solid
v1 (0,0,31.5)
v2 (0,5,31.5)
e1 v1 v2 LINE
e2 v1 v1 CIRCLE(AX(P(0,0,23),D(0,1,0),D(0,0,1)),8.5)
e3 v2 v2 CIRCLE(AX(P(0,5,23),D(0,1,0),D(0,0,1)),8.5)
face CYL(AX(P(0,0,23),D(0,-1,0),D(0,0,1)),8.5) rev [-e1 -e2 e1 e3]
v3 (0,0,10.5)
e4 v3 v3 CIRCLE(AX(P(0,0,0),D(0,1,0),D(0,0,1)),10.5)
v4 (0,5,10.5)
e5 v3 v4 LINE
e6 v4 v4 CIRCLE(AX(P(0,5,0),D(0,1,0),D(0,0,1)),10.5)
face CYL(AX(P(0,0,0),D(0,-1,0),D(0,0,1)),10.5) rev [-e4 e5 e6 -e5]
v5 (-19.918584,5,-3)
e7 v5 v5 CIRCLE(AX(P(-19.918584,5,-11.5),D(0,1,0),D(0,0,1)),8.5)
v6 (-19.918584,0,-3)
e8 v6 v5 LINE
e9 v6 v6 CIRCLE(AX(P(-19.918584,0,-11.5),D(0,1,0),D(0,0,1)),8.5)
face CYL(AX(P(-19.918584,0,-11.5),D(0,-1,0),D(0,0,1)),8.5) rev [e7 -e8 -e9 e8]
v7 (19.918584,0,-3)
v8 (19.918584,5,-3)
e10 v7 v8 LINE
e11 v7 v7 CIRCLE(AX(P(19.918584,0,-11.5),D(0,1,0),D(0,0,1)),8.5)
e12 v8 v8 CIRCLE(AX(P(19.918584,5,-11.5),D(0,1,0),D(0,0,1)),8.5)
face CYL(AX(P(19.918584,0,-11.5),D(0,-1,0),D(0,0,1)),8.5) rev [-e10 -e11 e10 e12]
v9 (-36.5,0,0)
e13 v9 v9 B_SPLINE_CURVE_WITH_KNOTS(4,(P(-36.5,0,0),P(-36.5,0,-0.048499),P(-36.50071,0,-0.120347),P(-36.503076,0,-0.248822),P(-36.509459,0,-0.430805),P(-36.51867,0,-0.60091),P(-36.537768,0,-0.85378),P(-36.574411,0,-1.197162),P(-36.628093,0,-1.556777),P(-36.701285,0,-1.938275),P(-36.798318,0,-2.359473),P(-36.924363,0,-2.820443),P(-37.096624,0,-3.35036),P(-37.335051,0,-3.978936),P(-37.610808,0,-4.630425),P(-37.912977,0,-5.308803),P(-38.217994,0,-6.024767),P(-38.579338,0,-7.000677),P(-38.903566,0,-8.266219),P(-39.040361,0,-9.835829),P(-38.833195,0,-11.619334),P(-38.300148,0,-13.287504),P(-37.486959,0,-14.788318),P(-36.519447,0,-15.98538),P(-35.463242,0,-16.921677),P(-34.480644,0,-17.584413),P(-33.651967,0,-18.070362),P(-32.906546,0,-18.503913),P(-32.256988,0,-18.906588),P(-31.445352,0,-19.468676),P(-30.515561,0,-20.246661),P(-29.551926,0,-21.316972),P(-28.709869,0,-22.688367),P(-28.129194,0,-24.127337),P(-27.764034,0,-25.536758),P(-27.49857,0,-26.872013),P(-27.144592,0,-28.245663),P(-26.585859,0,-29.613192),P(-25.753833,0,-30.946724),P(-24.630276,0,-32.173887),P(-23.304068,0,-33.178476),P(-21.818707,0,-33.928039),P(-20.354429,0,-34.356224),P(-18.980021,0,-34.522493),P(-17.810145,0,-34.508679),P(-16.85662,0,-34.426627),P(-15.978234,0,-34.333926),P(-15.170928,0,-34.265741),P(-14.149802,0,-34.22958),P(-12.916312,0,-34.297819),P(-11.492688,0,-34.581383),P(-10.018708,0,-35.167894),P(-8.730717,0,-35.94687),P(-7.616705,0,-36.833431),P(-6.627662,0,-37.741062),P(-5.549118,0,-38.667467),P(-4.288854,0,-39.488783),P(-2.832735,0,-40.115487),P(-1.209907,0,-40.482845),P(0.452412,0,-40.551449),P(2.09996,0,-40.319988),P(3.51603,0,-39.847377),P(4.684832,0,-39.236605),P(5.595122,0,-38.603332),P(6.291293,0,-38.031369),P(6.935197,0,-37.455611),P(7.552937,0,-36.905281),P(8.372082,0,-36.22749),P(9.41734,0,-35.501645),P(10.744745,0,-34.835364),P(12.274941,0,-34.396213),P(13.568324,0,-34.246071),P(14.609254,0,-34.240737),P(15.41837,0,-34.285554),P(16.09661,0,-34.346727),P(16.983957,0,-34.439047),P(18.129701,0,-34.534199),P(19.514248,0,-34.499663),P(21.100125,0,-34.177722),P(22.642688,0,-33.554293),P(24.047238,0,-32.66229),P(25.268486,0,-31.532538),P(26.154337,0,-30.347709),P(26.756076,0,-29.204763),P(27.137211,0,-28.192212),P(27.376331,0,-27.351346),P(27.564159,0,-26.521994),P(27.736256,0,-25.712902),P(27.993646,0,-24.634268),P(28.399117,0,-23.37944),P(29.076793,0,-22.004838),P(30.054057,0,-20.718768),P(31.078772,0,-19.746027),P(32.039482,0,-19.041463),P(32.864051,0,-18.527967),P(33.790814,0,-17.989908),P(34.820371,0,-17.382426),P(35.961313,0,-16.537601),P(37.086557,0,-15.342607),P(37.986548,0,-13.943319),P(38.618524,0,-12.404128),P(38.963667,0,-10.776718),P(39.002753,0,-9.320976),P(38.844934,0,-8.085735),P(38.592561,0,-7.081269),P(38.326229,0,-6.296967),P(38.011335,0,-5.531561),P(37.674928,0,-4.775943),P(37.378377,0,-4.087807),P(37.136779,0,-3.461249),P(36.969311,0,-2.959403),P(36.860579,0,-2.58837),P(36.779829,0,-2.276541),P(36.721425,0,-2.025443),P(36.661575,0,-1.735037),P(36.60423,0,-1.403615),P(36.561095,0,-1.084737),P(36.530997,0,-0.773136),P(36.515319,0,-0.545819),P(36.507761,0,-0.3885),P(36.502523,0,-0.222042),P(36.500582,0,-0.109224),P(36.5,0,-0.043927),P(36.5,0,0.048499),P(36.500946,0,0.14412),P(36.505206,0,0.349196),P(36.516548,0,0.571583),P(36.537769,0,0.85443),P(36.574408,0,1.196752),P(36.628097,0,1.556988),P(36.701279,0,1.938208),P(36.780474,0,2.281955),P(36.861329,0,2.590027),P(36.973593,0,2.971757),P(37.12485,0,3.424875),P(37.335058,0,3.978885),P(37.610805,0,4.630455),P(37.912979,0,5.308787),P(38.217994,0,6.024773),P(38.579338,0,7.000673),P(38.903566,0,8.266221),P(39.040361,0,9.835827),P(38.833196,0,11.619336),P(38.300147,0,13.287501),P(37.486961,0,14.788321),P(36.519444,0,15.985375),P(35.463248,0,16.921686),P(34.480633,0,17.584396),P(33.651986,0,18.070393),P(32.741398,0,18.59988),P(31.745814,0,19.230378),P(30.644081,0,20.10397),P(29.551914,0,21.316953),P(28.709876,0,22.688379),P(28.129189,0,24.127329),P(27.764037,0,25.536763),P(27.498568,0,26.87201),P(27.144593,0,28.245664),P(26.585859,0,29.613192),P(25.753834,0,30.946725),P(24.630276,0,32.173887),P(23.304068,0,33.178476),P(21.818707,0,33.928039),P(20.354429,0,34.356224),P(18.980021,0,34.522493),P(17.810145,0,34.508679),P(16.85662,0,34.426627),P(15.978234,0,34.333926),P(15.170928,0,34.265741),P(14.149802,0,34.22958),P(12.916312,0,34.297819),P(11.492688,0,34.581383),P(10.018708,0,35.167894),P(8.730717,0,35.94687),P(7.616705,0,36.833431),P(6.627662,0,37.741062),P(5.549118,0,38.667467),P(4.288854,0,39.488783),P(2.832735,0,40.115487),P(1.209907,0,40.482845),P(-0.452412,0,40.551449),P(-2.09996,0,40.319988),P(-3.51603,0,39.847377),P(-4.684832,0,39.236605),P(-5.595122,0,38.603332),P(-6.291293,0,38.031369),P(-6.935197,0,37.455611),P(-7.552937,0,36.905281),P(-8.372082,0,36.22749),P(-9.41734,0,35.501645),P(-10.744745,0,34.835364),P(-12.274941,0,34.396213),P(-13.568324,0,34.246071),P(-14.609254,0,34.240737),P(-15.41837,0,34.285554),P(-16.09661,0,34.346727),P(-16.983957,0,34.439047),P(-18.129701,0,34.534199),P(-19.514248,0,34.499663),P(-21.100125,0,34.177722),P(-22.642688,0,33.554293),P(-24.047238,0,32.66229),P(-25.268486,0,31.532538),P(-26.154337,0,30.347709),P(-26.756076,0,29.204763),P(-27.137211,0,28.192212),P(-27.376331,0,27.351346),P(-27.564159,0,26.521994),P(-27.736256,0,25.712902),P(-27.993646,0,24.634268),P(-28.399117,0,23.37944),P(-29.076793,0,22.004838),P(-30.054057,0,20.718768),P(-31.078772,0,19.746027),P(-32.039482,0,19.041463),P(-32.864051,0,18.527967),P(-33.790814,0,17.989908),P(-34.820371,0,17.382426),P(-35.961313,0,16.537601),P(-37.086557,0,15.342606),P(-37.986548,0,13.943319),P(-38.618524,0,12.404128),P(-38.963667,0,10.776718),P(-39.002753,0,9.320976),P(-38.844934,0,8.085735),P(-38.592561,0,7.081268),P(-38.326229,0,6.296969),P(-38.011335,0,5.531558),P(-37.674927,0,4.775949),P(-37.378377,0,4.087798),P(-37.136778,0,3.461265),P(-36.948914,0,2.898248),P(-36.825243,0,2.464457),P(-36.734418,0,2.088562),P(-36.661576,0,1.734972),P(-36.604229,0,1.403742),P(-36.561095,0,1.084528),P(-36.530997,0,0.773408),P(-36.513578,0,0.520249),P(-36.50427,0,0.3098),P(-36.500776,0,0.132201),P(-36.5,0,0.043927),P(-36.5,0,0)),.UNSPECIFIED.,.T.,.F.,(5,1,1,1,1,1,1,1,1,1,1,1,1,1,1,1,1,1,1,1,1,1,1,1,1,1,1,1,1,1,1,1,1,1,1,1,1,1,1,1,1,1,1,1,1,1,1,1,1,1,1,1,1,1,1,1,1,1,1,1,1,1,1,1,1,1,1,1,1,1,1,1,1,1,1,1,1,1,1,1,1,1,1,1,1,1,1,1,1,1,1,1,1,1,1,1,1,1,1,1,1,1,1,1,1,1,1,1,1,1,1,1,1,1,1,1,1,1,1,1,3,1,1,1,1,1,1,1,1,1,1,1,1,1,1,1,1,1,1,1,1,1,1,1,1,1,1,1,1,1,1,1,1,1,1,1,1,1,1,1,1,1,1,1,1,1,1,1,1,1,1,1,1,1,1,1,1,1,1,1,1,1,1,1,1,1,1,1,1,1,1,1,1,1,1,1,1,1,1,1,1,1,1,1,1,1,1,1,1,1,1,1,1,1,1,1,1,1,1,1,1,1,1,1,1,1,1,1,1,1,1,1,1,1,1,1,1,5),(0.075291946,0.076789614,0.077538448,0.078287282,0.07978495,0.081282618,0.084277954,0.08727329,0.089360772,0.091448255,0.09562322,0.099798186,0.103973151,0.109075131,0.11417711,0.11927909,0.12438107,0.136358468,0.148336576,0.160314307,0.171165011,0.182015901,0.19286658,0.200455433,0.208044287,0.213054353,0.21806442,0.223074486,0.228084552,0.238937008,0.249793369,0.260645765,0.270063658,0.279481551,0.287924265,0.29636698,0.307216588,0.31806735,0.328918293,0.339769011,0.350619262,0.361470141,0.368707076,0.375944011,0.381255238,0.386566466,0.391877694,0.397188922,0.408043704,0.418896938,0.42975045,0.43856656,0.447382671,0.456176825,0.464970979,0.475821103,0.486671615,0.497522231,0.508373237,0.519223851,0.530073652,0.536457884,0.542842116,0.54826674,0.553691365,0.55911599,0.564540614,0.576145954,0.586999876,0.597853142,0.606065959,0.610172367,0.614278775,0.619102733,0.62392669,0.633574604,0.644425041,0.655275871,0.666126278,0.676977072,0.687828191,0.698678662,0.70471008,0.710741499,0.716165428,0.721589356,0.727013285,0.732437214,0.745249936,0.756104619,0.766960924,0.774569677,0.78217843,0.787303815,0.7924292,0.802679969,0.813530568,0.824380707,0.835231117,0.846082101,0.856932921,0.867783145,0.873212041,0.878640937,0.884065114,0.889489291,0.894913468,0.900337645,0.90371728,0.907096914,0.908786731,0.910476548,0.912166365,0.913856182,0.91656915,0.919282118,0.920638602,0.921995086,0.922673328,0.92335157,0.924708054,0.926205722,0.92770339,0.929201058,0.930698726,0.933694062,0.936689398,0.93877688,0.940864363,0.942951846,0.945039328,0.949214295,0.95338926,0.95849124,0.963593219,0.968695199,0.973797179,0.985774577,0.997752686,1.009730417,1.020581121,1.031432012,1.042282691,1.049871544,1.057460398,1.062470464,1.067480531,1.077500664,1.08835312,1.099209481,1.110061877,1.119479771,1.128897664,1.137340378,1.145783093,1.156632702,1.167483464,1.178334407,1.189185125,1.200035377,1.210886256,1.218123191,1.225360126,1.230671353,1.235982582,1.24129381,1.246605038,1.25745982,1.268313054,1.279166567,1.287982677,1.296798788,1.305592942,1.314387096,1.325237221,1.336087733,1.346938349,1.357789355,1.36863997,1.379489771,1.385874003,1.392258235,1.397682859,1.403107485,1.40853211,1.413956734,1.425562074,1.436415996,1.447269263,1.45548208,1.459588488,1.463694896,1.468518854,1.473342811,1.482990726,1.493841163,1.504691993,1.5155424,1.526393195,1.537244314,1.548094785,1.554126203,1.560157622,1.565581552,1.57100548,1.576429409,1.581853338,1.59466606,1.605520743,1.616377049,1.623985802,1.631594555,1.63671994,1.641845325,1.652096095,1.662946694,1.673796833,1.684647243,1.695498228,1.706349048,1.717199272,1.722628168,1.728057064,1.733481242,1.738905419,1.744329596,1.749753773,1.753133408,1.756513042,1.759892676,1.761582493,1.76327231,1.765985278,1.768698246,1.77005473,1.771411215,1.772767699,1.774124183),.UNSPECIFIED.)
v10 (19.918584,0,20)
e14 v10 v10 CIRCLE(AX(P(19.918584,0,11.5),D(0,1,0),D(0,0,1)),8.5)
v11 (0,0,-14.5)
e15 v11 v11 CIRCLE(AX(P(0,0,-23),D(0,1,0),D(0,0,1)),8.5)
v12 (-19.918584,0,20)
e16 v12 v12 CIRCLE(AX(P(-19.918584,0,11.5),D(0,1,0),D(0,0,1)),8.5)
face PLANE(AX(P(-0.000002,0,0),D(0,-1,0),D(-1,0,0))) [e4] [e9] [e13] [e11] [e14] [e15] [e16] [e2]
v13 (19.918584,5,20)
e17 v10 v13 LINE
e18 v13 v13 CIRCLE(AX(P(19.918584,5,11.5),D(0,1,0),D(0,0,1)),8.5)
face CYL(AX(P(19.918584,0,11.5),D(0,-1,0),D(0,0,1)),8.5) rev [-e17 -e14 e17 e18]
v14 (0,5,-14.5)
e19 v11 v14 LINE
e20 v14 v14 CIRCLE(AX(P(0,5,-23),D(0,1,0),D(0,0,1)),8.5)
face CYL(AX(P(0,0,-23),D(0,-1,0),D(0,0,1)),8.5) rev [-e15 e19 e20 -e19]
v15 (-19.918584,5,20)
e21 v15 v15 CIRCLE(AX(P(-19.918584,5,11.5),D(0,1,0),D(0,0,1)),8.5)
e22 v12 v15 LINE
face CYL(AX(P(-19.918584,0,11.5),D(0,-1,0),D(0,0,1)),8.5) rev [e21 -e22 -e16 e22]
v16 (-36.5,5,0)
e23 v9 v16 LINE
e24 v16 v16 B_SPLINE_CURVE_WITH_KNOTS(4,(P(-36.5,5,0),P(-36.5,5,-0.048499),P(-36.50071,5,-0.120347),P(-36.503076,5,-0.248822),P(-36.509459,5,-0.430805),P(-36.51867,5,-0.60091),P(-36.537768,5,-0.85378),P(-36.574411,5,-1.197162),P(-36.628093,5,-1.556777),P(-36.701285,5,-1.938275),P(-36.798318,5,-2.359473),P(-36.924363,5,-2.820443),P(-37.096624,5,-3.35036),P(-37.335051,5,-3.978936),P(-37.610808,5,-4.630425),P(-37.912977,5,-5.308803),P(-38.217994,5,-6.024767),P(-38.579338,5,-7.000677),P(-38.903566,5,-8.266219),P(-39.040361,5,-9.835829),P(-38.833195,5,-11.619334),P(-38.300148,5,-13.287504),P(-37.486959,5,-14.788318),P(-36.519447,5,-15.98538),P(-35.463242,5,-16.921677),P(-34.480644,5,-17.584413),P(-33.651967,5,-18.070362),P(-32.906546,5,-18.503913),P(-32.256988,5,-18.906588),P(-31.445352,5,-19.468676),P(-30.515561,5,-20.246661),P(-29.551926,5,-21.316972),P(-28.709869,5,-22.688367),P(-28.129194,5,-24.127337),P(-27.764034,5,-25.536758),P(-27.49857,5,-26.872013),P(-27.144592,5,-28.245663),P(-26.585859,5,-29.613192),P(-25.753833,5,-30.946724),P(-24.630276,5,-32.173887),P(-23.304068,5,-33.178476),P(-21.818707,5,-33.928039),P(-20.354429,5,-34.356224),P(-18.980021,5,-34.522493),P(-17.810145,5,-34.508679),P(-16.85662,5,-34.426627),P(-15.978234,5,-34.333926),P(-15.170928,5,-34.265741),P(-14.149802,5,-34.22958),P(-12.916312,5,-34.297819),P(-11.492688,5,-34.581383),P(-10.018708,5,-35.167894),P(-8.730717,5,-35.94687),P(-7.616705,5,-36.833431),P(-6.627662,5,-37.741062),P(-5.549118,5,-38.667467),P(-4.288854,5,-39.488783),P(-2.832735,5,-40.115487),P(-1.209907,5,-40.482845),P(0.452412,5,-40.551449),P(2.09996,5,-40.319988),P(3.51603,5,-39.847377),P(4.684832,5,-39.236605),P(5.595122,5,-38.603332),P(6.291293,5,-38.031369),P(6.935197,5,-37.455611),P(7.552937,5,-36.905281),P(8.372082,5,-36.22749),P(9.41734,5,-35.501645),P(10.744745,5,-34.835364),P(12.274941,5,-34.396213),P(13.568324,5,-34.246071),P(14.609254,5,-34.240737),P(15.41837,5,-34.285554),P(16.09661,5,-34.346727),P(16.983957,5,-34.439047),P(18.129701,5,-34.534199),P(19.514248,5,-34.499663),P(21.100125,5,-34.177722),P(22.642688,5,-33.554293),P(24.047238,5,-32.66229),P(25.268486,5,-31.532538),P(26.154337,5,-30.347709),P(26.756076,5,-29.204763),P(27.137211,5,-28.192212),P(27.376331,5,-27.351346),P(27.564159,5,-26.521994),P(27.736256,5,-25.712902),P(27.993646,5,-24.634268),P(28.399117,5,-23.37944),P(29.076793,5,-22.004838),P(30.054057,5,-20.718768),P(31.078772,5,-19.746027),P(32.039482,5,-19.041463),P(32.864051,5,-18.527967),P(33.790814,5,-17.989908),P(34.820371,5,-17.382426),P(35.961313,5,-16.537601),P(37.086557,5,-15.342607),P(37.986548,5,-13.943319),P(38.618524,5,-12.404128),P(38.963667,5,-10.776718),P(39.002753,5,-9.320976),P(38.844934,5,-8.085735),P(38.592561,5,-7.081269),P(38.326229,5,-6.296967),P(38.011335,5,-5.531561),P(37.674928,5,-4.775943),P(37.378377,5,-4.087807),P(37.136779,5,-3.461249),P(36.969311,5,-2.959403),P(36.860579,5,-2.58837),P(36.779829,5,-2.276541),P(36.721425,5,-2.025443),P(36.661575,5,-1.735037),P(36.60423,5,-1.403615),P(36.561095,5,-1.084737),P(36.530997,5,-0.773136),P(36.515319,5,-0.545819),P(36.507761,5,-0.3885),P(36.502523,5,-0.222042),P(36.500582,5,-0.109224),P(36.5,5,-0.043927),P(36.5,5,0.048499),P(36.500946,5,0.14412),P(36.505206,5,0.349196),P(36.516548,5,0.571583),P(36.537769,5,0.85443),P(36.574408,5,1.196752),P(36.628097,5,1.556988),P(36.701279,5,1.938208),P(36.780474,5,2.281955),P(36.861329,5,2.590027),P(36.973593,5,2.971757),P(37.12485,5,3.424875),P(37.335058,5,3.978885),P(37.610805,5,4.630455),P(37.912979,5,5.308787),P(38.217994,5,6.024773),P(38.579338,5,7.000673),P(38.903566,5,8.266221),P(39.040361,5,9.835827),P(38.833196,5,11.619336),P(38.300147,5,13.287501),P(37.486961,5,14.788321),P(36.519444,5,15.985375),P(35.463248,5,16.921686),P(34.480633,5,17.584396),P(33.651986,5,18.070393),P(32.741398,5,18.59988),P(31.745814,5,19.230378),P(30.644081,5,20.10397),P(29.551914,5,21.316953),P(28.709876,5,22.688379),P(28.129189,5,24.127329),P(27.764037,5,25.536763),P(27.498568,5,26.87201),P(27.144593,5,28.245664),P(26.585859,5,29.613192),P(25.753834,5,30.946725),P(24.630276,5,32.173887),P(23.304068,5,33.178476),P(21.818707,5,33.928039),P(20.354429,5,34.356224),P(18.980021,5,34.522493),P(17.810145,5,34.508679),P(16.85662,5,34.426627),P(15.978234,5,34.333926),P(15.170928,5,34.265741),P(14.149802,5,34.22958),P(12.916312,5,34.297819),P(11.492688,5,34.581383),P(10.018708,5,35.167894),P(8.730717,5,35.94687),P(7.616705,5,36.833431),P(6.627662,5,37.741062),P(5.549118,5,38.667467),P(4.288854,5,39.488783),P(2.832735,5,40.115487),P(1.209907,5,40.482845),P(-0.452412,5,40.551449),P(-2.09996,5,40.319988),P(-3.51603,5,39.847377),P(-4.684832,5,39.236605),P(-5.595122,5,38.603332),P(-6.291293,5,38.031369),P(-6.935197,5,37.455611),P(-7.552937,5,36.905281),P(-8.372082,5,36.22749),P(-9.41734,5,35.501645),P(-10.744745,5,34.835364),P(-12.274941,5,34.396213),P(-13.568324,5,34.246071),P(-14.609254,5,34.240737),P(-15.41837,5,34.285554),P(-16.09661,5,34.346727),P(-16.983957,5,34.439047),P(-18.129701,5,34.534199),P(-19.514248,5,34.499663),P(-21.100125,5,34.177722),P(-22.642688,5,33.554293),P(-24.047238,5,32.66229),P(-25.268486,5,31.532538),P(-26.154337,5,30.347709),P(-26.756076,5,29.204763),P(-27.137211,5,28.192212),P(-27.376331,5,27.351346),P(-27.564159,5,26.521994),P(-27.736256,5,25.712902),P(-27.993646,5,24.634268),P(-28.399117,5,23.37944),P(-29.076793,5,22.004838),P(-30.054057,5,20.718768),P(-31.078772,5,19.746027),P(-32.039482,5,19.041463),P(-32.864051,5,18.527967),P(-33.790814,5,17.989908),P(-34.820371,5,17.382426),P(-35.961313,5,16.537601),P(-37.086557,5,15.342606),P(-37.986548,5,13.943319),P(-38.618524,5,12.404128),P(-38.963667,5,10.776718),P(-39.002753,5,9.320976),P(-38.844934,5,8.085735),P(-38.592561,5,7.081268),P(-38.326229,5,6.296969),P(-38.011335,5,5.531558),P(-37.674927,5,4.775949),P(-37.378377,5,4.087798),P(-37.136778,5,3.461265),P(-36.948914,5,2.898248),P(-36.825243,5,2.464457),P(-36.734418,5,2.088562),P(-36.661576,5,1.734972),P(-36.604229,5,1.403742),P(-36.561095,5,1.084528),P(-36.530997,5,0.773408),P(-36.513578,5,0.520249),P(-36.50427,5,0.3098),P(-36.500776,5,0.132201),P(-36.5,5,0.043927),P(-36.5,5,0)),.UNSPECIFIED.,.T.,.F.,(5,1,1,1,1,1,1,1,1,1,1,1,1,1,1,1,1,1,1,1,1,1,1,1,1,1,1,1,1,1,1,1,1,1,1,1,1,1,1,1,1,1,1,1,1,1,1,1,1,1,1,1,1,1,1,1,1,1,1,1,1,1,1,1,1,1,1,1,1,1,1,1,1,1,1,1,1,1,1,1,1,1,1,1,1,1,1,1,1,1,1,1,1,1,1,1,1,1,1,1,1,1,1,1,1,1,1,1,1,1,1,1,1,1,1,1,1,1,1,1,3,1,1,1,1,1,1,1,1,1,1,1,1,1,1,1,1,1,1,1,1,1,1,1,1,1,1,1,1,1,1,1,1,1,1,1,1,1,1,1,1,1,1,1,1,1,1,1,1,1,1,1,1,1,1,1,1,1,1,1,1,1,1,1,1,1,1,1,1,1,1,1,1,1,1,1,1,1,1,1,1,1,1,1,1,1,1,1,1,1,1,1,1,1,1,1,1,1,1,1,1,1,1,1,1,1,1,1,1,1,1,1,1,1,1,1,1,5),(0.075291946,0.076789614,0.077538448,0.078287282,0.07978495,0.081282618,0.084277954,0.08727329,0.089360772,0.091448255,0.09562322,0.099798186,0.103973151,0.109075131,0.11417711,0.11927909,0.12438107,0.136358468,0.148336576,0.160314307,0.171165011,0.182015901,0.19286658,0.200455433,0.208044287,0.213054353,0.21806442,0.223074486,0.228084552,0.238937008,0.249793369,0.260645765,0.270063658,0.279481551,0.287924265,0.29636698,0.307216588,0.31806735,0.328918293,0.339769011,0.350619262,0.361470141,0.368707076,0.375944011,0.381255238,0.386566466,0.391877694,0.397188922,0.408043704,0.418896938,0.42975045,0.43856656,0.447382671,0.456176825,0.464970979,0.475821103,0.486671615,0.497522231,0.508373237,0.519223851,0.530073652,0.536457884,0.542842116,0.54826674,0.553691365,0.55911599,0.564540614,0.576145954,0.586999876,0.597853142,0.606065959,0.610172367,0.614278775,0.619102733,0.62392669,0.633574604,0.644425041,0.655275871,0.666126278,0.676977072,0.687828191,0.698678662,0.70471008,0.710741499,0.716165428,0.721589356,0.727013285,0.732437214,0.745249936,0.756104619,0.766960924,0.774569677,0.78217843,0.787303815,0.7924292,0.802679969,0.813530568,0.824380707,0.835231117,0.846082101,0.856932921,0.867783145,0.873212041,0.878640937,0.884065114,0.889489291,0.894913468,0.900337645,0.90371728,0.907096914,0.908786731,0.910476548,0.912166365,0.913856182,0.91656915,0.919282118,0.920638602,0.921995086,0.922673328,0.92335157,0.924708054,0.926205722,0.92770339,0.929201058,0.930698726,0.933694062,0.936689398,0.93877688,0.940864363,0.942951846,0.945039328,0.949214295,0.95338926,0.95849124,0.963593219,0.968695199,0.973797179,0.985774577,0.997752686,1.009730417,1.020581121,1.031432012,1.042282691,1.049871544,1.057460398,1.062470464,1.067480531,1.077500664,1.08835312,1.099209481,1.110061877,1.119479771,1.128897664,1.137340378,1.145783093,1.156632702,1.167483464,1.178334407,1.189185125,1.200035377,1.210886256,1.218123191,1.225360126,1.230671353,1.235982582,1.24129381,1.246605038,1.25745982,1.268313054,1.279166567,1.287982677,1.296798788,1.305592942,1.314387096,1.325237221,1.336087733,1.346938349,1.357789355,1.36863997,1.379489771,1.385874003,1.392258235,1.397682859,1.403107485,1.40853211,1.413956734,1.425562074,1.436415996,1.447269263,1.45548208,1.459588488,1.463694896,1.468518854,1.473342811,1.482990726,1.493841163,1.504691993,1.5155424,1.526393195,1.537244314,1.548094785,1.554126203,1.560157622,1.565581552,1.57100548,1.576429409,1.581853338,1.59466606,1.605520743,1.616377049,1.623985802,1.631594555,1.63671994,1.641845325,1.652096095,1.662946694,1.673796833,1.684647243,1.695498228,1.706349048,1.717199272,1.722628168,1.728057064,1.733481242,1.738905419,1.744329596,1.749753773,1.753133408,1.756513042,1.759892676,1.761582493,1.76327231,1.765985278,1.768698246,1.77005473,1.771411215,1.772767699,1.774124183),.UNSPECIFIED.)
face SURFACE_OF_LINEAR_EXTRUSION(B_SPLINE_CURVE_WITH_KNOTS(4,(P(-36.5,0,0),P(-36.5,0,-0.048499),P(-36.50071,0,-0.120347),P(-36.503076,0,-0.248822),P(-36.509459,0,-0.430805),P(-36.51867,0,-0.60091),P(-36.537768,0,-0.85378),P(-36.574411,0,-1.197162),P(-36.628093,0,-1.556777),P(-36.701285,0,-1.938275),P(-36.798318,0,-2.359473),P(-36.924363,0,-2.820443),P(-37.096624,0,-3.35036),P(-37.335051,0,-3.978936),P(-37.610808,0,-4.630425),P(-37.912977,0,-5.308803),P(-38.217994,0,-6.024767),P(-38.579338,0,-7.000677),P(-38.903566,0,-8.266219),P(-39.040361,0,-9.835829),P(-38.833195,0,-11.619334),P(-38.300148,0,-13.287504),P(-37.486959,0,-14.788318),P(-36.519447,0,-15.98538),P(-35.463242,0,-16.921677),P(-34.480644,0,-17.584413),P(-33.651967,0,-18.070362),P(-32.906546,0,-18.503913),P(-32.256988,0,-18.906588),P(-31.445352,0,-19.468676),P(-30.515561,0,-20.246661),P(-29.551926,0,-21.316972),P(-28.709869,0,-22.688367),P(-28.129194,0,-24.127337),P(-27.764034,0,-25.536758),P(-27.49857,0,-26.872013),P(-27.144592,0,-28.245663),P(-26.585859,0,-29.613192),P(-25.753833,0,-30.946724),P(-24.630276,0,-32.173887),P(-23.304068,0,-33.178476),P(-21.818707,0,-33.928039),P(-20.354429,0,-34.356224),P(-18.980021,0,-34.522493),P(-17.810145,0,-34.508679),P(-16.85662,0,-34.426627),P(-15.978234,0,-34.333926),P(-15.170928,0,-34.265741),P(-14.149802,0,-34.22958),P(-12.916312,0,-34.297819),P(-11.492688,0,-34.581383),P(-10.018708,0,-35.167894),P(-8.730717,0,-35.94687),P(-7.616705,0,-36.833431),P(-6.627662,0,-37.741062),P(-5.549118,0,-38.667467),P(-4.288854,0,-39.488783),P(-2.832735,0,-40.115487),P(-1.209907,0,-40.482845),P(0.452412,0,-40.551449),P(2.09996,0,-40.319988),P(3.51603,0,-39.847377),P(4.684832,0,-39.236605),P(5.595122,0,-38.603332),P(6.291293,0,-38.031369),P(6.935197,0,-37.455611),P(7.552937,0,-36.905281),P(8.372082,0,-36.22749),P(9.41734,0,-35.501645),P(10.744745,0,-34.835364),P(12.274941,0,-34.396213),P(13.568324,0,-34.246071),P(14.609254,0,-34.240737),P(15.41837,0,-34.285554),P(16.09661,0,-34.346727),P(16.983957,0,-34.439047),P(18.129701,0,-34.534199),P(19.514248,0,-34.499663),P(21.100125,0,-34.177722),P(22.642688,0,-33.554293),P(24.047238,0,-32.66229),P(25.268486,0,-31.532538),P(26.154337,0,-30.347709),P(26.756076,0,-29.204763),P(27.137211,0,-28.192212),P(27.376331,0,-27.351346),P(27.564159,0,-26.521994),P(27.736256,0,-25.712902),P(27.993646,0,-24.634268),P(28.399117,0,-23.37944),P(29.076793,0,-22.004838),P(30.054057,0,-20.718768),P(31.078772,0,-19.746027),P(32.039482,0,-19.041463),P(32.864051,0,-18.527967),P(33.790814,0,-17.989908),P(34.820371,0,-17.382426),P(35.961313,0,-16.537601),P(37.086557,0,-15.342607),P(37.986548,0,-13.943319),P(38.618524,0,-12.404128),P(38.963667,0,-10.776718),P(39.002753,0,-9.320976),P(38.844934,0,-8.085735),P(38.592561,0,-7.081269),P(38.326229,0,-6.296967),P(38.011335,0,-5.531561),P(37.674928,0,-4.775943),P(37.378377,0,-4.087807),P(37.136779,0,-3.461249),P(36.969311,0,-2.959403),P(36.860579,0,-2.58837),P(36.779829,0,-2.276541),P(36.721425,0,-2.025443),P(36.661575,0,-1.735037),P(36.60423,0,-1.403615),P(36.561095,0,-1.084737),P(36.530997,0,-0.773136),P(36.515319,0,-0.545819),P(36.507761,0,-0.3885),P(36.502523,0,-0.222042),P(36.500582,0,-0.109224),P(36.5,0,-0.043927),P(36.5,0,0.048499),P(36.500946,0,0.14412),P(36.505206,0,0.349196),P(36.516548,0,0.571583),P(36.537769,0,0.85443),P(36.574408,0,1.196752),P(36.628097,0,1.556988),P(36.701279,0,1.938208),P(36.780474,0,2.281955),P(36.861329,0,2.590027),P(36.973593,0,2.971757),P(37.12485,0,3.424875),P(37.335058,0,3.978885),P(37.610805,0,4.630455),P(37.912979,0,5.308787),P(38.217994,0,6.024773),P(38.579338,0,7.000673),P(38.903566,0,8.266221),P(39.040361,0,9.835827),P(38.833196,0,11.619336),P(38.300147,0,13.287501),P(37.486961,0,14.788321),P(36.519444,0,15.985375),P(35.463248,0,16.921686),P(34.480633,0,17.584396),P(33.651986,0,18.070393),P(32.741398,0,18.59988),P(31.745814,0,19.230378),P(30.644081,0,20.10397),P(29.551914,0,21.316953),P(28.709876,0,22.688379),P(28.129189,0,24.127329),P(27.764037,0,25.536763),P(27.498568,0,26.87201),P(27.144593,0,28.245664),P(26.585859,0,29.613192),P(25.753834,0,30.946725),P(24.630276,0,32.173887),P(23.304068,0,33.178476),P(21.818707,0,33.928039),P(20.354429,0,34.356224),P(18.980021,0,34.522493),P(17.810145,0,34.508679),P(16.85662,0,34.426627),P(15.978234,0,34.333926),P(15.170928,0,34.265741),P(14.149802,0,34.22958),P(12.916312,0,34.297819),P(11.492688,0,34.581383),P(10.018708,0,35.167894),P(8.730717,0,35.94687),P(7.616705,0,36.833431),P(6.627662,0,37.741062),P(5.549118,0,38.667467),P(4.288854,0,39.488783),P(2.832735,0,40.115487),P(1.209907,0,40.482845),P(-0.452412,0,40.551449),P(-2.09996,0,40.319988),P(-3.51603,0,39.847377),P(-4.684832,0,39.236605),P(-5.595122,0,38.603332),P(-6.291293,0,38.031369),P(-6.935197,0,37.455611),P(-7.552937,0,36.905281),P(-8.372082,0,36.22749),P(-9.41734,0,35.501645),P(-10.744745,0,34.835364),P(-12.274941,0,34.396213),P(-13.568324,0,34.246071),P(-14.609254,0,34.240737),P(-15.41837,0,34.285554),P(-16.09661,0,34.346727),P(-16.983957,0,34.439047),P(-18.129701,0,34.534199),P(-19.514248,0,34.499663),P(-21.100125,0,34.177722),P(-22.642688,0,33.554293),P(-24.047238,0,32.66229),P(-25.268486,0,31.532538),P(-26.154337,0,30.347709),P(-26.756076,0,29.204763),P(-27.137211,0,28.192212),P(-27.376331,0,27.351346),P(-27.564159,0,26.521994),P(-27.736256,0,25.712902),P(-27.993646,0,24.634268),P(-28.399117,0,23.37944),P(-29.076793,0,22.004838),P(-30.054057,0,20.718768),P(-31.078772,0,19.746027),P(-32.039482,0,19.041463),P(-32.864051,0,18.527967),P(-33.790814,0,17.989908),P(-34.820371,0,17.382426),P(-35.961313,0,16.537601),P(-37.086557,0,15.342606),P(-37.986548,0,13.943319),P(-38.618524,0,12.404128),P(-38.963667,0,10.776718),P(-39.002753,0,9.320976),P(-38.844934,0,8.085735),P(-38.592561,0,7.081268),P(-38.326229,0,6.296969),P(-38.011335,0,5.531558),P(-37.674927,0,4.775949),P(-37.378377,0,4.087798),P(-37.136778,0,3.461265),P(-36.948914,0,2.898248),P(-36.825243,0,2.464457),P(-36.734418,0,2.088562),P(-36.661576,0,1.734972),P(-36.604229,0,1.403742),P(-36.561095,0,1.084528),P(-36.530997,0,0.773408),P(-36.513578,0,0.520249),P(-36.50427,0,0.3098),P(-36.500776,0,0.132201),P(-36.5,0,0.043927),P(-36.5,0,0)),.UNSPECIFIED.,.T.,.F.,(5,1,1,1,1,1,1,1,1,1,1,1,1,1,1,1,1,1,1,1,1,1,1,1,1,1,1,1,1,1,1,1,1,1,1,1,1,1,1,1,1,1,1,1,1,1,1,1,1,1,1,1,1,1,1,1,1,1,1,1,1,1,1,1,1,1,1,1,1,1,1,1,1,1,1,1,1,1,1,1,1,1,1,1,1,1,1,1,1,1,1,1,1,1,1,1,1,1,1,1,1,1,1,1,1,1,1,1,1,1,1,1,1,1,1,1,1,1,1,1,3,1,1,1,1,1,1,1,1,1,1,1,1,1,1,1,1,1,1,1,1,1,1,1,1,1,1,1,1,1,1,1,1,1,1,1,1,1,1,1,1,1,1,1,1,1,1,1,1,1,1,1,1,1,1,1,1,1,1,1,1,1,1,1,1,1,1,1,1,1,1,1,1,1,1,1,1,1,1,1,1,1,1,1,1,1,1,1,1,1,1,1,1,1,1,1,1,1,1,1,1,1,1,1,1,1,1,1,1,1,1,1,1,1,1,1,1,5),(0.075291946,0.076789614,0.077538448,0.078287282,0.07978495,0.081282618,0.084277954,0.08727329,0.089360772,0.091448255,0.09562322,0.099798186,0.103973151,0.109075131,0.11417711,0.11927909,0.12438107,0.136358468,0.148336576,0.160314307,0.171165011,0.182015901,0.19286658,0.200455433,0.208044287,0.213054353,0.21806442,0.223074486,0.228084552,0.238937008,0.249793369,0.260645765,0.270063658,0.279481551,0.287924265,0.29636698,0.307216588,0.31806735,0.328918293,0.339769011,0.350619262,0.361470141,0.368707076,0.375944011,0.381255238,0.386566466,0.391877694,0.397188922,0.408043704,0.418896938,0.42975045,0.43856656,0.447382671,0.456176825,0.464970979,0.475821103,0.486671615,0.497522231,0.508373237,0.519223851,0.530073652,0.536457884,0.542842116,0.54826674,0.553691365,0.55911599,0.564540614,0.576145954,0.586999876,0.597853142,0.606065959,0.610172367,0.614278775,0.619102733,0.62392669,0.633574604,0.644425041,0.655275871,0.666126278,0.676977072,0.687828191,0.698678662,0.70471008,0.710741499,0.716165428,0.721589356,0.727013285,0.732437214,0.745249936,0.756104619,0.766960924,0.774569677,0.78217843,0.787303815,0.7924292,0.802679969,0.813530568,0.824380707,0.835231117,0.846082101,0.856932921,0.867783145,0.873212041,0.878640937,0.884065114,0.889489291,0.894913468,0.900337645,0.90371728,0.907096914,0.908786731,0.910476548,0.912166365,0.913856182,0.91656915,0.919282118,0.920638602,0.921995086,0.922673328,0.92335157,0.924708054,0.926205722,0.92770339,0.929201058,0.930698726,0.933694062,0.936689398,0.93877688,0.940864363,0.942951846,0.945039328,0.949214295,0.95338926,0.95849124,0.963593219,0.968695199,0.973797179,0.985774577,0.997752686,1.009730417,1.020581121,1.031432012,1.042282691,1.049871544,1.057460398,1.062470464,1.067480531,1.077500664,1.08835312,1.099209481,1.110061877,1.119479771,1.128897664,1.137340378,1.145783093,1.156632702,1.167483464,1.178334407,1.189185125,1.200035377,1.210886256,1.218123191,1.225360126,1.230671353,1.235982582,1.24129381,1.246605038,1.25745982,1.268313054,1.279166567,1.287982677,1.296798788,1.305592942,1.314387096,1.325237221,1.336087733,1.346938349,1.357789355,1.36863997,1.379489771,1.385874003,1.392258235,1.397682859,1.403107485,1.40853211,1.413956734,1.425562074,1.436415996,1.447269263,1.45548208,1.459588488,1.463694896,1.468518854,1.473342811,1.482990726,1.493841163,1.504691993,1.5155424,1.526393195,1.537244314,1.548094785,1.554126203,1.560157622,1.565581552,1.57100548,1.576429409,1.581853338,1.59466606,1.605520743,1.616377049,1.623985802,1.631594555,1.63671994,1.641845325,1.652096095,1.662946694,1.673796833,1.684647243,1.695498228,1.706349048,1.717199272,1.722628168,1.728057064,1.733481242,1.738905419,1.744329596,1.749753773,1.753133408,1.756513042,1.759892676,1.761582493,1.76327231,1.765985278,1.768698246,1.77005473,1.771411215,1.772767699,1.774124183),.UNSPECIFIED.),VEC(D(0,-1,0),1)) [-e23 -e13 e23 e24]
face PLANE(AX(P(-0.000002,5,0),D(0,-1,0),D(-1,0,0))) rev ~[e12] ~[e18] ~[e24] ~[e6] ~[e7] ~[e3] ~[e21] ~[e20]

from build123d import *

# Parameters (mm, degrees)
SKETCH1_R           = 10.5
SKETCH1_R_2         = 8.5
BOSS_EXTRUDE1_DEPTH = 5


with BuildPart() as part:
    # Sketch1 → Boss-Extrude1 (new body)
    with BuildSketch(Plane(origin=(0, 0, 0), x_dir=(1, 0, 0), z_dir=(0, 1, 0))):
        with BuildLine():
            add(Edge.make_bspline(
                [(36.5, 0), (36.5, -0.048499306), (36.500946474, -0.144120136), (36.505205639, -0.349195994), (36.516548144, -0.571582738), (36.53776893, -0.854430115), (36.574407998, -1.196752003), (36.62809738, -1.556988295), (36.70127876, -1.938208043), (36.78047365, -2.281954505), (36.861329003, -2.590026625), (36.973593296, -2.971756615), (37.124850001, -3.424875263), (37.335057521, -3.978884819), (37.610804689, -4.630454515), (37.912979272, -5.308786828), (38.217993537, -6.024773331), (38.579337976, -7.000673113), (38.903566381, -8.266221267), (39.040360932, -9.835827251), (38.833195825, -11.619336074), (38.300146641, -13.287501244), (37.486961222, -14.788321278), (36.519443961, -15.985374972), (35.463247749, -16.921686084), (34.480633006, -17.584395869), (33.651986164, -18.070393448), (32.741397785, -18.599880286), (31.745814237, -19.23037768), (30.644081106, -20.103969947), (29.551914438, -21.316953149), (28.709876259, -22.688378726), (28.129188952, -24.127329092), (27.764036764, -25.53676255), (27.498568237, -26.872010136), (27.14459296, -28.24566423), (26.585858616, -29.613191611), (25.753833767, -30.946724523), (24.630275661, -32.173887031), (23.304067671, -33.178476098), (21.818707229, -33.928039056), (20.354428633, -34.356223626), (18.980021188, -34.522492919), (17.810145148, -34.508679014), (16.856619883, -34.426627197), (15.978233576, -34.333926374), (15.170927755, -34.265741371), (14.149802015, -34.229580128), (12.916311546, -34.297819178), (11.49268827, -34.581382628), (10.018707632, -35.167894044), (8.730716825, -35.94686999), (7.616704888, -36.833430943), (6.627661642, -37.741061624), (5.549118095, -38.667467053), (4.288853719, -39.488783224), (2.83273482, -40.115486753), (1.209906645, -40.482844808), (-0.452411505, -40.551448925), (-2.099959875, -40.319988007), (-3.516029788, -39.847376882), (-4.684831629, -39.236604984), (-5.595122009, -38.603332332), (-6.291293195, -38.03136891), (-6.935196982, -37.455611034), (-7.552937159, -36.905280935), (-8.3720822, -36.227490452), (-9.417339699, -35.501645102), (-10.744745036, -34.835364198), (-12.274940897, -34.396213159), (-13.568324156, -34.246071291), (-14.609253635, -34.240736665), (-15.418369646, -34.285553755), (-16.096609715, -34.346726816), (-16.983957337, -34.439047454), (-18.129700574, -34.534198807), (-19.514247662, -34.499663354), (-21.100124923, -34.177722278), (-22.642688121, -33.554292595), (-24.047237509, -32.662289917), (-25.268485598, -31.532537595), (-26.154336533, -30.347709032), (-26.756076077, -29.20476342), (-27.137211283, -28.192212286), (-27.376331213, -27.351346043), (-27.564158904, -26.521994318), (-27.736255611, -25.71290243), (-27.9936462, -24.634267957), (-28.399117079, -23.379440462), (-29.076792687, -22.004837755), (-30.054056647, -20.718767709), (-31.078771932, -19.746027017), (-32.039482, -19.04146275), (-32.864050638, -18.52796692), (-33.790814113, -17.989908183), (-34.820371489, -17.38242567), (-35.961313043, -16.537601472), (-37.086556652, -15.342606474), (-37.986548491, -13.943319085), (-38.618524242, -12.404128407), (-38.963667013, -10.776717844), (-39.002753109, -9.320975979), (-38.844934454, -8.085734909), (-38.592561063, -7.081267912), (-38.326228914, -6.296968631), (-38.011335485, -5.531557624), (-37.674927383, -4.77594876), (-37.378377228, -4.087797522), (-37.136778411, -3.461265107), (-36.948914251, -2.898248212), (-36.825242681, -2.464456921), (-36.734418474, -2.088562143), (-36.661575892, -1.734972023), (-36.604229284, -1.403741901), (-36.561095025, -1.084527578), (-36.530996656, -0.773408388), (-36.51357757, -0.520248866), (-36.504270411, -0.30979969), (-36.50077644, -0.13220069), (-36.5, -0.043927313), (-36.5, 0)],
                knots=[0.075291946, 0.075291946, 0.075291946, 0.075291946, 0.075291946, 0.076789614, 0.078287282, 0.07978495, 0.081282618, 0.084277954, 0.08727329, 0.089360772, 0.091448255, 0.093535738, 0.09562322, 0.099798186, 0.103973151, 0.109075131, 0.11417711, 0.11927909, 0.12438107, 0.136358468, 0.148336576, 0.160314307, 0.171165011, 0.182015901, 0.19286658, 0.200455433, 0.208044287, 0.213054353, 0.21806442, 0.228084552, 0.238937008, 0.249793369, 0.260645765, 0.270063658, 0.279481551, 0.287924265, 0.29636698, 0.307216588, 0.31806735, 0.328918293, 0.339769011, 0.350619262, 0.361470141, 0.368707076, 0.375944011, 0.381255238, 0.386566466, 0.391877694, 0.397188922, 0.408043704, 0.418896938, 0.42975045, 0.43856656, 0.447382671, 0.456176825, 0.464970979, 0.475821103, 0.486671615, 0.497522231, 0.508373237, 0.519223851, 0.530073652, 0.536457884, 0.542842116, 0.54826674, 0.553691365, 0.55911599, 0.564540614, 0.576145954, 0.586999876, 0.597853142, 0.606065959, 0.610172367, 0.614278775, 0.619102733, 0.62392669, 0.633574604, 0.644425041, 0.655275871, 0.666126278, 0.676977072, 0.687828191, 0.698678662, 0.70471008, 0.710741499, 0.716165428, 0.721589356, 0.727013285, 0.732437214, 0.745249936, 0.756104619, 0.766960924, 0.774569677, 0.78217843, 0.787303815, 0.7924292, 0.802679969, 0.813530568, 0.824380707, 0.835231117, 0.846082101, 0.856932921, 0.867783145, 0.873212041, 0.878640937, 0.884065114, 0.889489291, 0.894913468, 0.900337645, 0.90371728, 0.907096914, 0.910476548, 0.912166365, 0.913856182, 0.91656915, 0.919282118, 0.920638602, 0.921995086, 0.92335157, 0.924708054, 0.924708054, 0.924708054, 0.924708054, 0.924708054], degree=4))
            add(Edge.make_bspline(
                [(-36.5, 0), (-36.5, 0.048499305), (-36.500709854, 0.120347377), (-36.503076032, 0.248821581), (-36.509459135, 0.430805007), (-36.518670462, 0.600909868), (-36.537767816, 0.853780444), (-36.574410609, 1.197161726), (-36.628092737, 1.556776711), (-36.70128534, 1.938275134), (-36.798317842, 2.359473017), (-36.924362877, 2.820443145), (-37.096624147, 3.350360221), (-37.335050856, 3.978935622), (-37.610808448, 4.630425207), (-37.912977339, 5.30880264), (-38.217994227, 6.024766679), (-38.579337761, 7.000676775), (-38.903566296, 8.266218611), (-39.040361318, 9.835829449), (-38.83319516, 11.619334121), (-38.300147751, 13.287503552), (-37.486959297, 14.788317854), (-36.51944727, 15.985380477), (-35.463241983, 16.921676737), (-34.480643682, 17.584412987), (-33.651966589, 18.070362205), (-32.906545987, 18.503912569), (-32.256987734, 18.906587709), (-31.445352143, 19.468675663), (-30.515561037, 20.246660688), (-29.551926436, 21.316972253), (-28.709868851, 22.688366931), (-28.129194123, 24.127337321), (-27.764033611, 25.53675754), (-27.498569959, 26.872012871), (-27.144592106, 28.24566287), (-26.585859124, 29.613192421), (-25.753833457, 30.946724029), (-24.630275847, 32.173887326), (-23.304067555, 33.178475912), (-21.818707307, 33.928039181), (-20.354428582, 34.356223545), (-18.980021222, 34.522492971), (-17.810145124, 34.508678977), (-16.856619896, 34.426627224), (-15.978233572, 34.333926353), (-15.170927757, 34.265741379), (-14.149802015, 34.229580123), (-12.916311545, 34.29781918), (-11.492688271, 34.581382626), (-10.018707631, 35.167894044), (-8.730716827, 35.94686999), (-7.616704884, 36.833430941), (-6.627661644, 37.741061623), (-5.549118097, 38.667467054), (-4.288853718, 39.488783222), (-2.832734821, 40.115486753), (-1.209906645, 40.482844807), (0.452411504, 40.551448925), (2.099959876, 40.319988007), (3.516029787, 39.847376881), (4.68483163, 39.236604984), (5.595122006, 38.60333233), (6.291293204, 38.031368915), (6.935196973, 37.455611027), (7.552937162, 36.905280937), (8.372082197, 36.227490449), (9.417339701, 35.501645103), (10.744745035, 34.835364195), (12.274940897, 34.396213161), (13.568324156, 34.246071287), (14.609253634, 34.240736671), (15.418369647, 34.285553746), (16.096609716, 34.346726821), (16.983957335, 34.439047449), (18.129700573, 34.534198813), (19.514247663, 34.499663349), (21.100124923, 34.17772228), (22.642688121, 33.554292593), (24.047237508, 32.662289917), (25.268485599, 31.532537594), (26.154336531, 30.347709032), (26.756076079, 29.204763419), (27.137211278, 28.192212287), (27.376331225, 27.351346041), (27.564158894, 26.521994319), (27.736255613, 25.712902429), (27.993646196, 24.634267958), (28.399117082, 23.37944046), (29.076792686, 22.004837756), (30.054056648, 20.718767707), (31.078771932, 19.74602702), (32.039481999, 19.041462745), (32.864050639, 18.527966924), (33.790814111, 17.98990817), (34.82037149, 17.382425694), (35.961313043, 16.537601441), (37.086556651, 15.342606512), (37.986548494, 13.94331903), (38.618524236, 12.404128495), (38.963667022, 10.77671769), (39.002753094, 9.320976227), (38.844934477, 8.085734521), (38.592561023, 7.081268579), (38.32622901, 6.296967044), (38.011335306, 5.531560737), (37.674927708, 4.775943023), (37.37837668, 4.087807125), (37.136779297, 3.461249479), (36.969310994, 2.959402658), (36.860578901, 2.58836954), (36.779829118, 2.276540793), (36.721424729, 2.02544297), (36.661575157, 1.735036695), (36.604229765, 1.403615039), (36.561094779, 1.084737296), (36.530996745, 0.773135873), (36.515319468, 0.545818588), (36.507760589, 0.388500267), (36.502523425, 0.222042212), (36.500582329, 0.109223844), (36.5, 0.043927313), (36.5, 0)],
                knots=[0.075291946, 0.075291946, 0.075291946, 0.075291946, 0.075291946, 0.076789614, 0.077538448, 0.078287282, 0.07978495, 0.081282618, 0.084277954, 0.08727329, 0.089360772, 0.091448255, 0.09562322, 0.099798186, 0.103973151, 0.109075131, 0.11417711, 0.11927909, 0.12438107, 0.136358468, 0.148336576, 0.160314307, 0.171165011, 0.182015901, 0.19286658, 0.200455433, 0.208044287, 0.213054353, 0.21806442, 0.223074486, 0.228084552, 0.238937008, 0.249793369, 0.260645765, 0.270063658, 0.279481551, 0.287924265, 0.29636698, 0.307216588, 0.31806735, 0.328918293, 0.339769011, 0.350619262, 0.361470141, 0.368707076, 0.375944011, 0.381255238, 0.386566466, 0.391877694, 0.397188922, 0.408043704, 0.418896938, 0.42975045, 0.43856656, 0.447382671, 0.456176825, 0.464970979, 0.475821103, 0.486671615, 0.497522231, 0.508373237, 0.519223851, 0.530073652, 0.536457884, 0.542842116, 0.54826674, 0.553691365, 0.55911599, 0.564540614, 0.576145954, 0.586999876, 0.597853142, 0.606065959, 0.610172367, 0.614278775, 0.619102733, 0.62392669, 0.633574604, 0.644425041, 0.655275871, 0.666126278, 0.676977072, 0.687828191, 0.698678662, 0.70471008, 0.710741499, 0.716165428, 0.721589356, 0.727013285, 0.732437214, 0.745249936, 0.756104619, 0.766960924, 0.774569677, 0.78217843, 0.787303815, 0.7924292, 0.802679969, 0.813530568, 0.824380707, 0.835231117, 0.846082101, 0.856932921, 0.867783145, 0.873212041, 0.878640937, 0.884065114, 0.889489291, 0.894913468, 0.900337645, 0.90371728, 0.907096914, 0.908786731, 0.910476548, 0.912166365, 0.913856182, 0.91656915, 0.919282118, 0.920638602, 0.921995086, 0.922673328, 0.92335157, 0.924708054, 0.924708054, 0.924708054, 0.924708054, 0.924708054], degree=4))
        make_face()
        with Locations(Location((0, 0, 0), (0, 0, 270))):
            Circle(SKETCH1_R, mode=Mode.SUBTRACT)
        with Locations(Location((0, 23, 0), (0, 0, 270))):
            Circle(SKETCH1_R_2, mode=Mode.SUBTRACT)
        with Locations(Location((19.918584287, 11.5, 0), (0, 0, 270))):
            Circle(SKETCH1_R_2, mode=Mode.SUBTRACT)
        with Locations(Location((19.918584287, -11.5, 0), (0, 0, 270))):
            Circle(SKETCH1_R_2, mode=Mode.SUBTRACT)
        with Locations(Location((0, -23, 0), (0, 0, 270))):
            Circle(SKETCH1_R_2, mode=Mode.SUBTRACT)
        with Locations(Location((-19.918584287, -11.5, 0), (0, 0, 270))):
            Circle(SKETCH1_R_2, mode=Mode.SUBTRACT)
        with Locations(Location((-19.918584287, 11.5, 0), (0, 0, 270))):
            Circle(SKETCH1_R_2, mode=Mode.SUBTRACT)
    extrude(amount=BOSS_EXTRUDE1_DEPTH)


solid = part.part
